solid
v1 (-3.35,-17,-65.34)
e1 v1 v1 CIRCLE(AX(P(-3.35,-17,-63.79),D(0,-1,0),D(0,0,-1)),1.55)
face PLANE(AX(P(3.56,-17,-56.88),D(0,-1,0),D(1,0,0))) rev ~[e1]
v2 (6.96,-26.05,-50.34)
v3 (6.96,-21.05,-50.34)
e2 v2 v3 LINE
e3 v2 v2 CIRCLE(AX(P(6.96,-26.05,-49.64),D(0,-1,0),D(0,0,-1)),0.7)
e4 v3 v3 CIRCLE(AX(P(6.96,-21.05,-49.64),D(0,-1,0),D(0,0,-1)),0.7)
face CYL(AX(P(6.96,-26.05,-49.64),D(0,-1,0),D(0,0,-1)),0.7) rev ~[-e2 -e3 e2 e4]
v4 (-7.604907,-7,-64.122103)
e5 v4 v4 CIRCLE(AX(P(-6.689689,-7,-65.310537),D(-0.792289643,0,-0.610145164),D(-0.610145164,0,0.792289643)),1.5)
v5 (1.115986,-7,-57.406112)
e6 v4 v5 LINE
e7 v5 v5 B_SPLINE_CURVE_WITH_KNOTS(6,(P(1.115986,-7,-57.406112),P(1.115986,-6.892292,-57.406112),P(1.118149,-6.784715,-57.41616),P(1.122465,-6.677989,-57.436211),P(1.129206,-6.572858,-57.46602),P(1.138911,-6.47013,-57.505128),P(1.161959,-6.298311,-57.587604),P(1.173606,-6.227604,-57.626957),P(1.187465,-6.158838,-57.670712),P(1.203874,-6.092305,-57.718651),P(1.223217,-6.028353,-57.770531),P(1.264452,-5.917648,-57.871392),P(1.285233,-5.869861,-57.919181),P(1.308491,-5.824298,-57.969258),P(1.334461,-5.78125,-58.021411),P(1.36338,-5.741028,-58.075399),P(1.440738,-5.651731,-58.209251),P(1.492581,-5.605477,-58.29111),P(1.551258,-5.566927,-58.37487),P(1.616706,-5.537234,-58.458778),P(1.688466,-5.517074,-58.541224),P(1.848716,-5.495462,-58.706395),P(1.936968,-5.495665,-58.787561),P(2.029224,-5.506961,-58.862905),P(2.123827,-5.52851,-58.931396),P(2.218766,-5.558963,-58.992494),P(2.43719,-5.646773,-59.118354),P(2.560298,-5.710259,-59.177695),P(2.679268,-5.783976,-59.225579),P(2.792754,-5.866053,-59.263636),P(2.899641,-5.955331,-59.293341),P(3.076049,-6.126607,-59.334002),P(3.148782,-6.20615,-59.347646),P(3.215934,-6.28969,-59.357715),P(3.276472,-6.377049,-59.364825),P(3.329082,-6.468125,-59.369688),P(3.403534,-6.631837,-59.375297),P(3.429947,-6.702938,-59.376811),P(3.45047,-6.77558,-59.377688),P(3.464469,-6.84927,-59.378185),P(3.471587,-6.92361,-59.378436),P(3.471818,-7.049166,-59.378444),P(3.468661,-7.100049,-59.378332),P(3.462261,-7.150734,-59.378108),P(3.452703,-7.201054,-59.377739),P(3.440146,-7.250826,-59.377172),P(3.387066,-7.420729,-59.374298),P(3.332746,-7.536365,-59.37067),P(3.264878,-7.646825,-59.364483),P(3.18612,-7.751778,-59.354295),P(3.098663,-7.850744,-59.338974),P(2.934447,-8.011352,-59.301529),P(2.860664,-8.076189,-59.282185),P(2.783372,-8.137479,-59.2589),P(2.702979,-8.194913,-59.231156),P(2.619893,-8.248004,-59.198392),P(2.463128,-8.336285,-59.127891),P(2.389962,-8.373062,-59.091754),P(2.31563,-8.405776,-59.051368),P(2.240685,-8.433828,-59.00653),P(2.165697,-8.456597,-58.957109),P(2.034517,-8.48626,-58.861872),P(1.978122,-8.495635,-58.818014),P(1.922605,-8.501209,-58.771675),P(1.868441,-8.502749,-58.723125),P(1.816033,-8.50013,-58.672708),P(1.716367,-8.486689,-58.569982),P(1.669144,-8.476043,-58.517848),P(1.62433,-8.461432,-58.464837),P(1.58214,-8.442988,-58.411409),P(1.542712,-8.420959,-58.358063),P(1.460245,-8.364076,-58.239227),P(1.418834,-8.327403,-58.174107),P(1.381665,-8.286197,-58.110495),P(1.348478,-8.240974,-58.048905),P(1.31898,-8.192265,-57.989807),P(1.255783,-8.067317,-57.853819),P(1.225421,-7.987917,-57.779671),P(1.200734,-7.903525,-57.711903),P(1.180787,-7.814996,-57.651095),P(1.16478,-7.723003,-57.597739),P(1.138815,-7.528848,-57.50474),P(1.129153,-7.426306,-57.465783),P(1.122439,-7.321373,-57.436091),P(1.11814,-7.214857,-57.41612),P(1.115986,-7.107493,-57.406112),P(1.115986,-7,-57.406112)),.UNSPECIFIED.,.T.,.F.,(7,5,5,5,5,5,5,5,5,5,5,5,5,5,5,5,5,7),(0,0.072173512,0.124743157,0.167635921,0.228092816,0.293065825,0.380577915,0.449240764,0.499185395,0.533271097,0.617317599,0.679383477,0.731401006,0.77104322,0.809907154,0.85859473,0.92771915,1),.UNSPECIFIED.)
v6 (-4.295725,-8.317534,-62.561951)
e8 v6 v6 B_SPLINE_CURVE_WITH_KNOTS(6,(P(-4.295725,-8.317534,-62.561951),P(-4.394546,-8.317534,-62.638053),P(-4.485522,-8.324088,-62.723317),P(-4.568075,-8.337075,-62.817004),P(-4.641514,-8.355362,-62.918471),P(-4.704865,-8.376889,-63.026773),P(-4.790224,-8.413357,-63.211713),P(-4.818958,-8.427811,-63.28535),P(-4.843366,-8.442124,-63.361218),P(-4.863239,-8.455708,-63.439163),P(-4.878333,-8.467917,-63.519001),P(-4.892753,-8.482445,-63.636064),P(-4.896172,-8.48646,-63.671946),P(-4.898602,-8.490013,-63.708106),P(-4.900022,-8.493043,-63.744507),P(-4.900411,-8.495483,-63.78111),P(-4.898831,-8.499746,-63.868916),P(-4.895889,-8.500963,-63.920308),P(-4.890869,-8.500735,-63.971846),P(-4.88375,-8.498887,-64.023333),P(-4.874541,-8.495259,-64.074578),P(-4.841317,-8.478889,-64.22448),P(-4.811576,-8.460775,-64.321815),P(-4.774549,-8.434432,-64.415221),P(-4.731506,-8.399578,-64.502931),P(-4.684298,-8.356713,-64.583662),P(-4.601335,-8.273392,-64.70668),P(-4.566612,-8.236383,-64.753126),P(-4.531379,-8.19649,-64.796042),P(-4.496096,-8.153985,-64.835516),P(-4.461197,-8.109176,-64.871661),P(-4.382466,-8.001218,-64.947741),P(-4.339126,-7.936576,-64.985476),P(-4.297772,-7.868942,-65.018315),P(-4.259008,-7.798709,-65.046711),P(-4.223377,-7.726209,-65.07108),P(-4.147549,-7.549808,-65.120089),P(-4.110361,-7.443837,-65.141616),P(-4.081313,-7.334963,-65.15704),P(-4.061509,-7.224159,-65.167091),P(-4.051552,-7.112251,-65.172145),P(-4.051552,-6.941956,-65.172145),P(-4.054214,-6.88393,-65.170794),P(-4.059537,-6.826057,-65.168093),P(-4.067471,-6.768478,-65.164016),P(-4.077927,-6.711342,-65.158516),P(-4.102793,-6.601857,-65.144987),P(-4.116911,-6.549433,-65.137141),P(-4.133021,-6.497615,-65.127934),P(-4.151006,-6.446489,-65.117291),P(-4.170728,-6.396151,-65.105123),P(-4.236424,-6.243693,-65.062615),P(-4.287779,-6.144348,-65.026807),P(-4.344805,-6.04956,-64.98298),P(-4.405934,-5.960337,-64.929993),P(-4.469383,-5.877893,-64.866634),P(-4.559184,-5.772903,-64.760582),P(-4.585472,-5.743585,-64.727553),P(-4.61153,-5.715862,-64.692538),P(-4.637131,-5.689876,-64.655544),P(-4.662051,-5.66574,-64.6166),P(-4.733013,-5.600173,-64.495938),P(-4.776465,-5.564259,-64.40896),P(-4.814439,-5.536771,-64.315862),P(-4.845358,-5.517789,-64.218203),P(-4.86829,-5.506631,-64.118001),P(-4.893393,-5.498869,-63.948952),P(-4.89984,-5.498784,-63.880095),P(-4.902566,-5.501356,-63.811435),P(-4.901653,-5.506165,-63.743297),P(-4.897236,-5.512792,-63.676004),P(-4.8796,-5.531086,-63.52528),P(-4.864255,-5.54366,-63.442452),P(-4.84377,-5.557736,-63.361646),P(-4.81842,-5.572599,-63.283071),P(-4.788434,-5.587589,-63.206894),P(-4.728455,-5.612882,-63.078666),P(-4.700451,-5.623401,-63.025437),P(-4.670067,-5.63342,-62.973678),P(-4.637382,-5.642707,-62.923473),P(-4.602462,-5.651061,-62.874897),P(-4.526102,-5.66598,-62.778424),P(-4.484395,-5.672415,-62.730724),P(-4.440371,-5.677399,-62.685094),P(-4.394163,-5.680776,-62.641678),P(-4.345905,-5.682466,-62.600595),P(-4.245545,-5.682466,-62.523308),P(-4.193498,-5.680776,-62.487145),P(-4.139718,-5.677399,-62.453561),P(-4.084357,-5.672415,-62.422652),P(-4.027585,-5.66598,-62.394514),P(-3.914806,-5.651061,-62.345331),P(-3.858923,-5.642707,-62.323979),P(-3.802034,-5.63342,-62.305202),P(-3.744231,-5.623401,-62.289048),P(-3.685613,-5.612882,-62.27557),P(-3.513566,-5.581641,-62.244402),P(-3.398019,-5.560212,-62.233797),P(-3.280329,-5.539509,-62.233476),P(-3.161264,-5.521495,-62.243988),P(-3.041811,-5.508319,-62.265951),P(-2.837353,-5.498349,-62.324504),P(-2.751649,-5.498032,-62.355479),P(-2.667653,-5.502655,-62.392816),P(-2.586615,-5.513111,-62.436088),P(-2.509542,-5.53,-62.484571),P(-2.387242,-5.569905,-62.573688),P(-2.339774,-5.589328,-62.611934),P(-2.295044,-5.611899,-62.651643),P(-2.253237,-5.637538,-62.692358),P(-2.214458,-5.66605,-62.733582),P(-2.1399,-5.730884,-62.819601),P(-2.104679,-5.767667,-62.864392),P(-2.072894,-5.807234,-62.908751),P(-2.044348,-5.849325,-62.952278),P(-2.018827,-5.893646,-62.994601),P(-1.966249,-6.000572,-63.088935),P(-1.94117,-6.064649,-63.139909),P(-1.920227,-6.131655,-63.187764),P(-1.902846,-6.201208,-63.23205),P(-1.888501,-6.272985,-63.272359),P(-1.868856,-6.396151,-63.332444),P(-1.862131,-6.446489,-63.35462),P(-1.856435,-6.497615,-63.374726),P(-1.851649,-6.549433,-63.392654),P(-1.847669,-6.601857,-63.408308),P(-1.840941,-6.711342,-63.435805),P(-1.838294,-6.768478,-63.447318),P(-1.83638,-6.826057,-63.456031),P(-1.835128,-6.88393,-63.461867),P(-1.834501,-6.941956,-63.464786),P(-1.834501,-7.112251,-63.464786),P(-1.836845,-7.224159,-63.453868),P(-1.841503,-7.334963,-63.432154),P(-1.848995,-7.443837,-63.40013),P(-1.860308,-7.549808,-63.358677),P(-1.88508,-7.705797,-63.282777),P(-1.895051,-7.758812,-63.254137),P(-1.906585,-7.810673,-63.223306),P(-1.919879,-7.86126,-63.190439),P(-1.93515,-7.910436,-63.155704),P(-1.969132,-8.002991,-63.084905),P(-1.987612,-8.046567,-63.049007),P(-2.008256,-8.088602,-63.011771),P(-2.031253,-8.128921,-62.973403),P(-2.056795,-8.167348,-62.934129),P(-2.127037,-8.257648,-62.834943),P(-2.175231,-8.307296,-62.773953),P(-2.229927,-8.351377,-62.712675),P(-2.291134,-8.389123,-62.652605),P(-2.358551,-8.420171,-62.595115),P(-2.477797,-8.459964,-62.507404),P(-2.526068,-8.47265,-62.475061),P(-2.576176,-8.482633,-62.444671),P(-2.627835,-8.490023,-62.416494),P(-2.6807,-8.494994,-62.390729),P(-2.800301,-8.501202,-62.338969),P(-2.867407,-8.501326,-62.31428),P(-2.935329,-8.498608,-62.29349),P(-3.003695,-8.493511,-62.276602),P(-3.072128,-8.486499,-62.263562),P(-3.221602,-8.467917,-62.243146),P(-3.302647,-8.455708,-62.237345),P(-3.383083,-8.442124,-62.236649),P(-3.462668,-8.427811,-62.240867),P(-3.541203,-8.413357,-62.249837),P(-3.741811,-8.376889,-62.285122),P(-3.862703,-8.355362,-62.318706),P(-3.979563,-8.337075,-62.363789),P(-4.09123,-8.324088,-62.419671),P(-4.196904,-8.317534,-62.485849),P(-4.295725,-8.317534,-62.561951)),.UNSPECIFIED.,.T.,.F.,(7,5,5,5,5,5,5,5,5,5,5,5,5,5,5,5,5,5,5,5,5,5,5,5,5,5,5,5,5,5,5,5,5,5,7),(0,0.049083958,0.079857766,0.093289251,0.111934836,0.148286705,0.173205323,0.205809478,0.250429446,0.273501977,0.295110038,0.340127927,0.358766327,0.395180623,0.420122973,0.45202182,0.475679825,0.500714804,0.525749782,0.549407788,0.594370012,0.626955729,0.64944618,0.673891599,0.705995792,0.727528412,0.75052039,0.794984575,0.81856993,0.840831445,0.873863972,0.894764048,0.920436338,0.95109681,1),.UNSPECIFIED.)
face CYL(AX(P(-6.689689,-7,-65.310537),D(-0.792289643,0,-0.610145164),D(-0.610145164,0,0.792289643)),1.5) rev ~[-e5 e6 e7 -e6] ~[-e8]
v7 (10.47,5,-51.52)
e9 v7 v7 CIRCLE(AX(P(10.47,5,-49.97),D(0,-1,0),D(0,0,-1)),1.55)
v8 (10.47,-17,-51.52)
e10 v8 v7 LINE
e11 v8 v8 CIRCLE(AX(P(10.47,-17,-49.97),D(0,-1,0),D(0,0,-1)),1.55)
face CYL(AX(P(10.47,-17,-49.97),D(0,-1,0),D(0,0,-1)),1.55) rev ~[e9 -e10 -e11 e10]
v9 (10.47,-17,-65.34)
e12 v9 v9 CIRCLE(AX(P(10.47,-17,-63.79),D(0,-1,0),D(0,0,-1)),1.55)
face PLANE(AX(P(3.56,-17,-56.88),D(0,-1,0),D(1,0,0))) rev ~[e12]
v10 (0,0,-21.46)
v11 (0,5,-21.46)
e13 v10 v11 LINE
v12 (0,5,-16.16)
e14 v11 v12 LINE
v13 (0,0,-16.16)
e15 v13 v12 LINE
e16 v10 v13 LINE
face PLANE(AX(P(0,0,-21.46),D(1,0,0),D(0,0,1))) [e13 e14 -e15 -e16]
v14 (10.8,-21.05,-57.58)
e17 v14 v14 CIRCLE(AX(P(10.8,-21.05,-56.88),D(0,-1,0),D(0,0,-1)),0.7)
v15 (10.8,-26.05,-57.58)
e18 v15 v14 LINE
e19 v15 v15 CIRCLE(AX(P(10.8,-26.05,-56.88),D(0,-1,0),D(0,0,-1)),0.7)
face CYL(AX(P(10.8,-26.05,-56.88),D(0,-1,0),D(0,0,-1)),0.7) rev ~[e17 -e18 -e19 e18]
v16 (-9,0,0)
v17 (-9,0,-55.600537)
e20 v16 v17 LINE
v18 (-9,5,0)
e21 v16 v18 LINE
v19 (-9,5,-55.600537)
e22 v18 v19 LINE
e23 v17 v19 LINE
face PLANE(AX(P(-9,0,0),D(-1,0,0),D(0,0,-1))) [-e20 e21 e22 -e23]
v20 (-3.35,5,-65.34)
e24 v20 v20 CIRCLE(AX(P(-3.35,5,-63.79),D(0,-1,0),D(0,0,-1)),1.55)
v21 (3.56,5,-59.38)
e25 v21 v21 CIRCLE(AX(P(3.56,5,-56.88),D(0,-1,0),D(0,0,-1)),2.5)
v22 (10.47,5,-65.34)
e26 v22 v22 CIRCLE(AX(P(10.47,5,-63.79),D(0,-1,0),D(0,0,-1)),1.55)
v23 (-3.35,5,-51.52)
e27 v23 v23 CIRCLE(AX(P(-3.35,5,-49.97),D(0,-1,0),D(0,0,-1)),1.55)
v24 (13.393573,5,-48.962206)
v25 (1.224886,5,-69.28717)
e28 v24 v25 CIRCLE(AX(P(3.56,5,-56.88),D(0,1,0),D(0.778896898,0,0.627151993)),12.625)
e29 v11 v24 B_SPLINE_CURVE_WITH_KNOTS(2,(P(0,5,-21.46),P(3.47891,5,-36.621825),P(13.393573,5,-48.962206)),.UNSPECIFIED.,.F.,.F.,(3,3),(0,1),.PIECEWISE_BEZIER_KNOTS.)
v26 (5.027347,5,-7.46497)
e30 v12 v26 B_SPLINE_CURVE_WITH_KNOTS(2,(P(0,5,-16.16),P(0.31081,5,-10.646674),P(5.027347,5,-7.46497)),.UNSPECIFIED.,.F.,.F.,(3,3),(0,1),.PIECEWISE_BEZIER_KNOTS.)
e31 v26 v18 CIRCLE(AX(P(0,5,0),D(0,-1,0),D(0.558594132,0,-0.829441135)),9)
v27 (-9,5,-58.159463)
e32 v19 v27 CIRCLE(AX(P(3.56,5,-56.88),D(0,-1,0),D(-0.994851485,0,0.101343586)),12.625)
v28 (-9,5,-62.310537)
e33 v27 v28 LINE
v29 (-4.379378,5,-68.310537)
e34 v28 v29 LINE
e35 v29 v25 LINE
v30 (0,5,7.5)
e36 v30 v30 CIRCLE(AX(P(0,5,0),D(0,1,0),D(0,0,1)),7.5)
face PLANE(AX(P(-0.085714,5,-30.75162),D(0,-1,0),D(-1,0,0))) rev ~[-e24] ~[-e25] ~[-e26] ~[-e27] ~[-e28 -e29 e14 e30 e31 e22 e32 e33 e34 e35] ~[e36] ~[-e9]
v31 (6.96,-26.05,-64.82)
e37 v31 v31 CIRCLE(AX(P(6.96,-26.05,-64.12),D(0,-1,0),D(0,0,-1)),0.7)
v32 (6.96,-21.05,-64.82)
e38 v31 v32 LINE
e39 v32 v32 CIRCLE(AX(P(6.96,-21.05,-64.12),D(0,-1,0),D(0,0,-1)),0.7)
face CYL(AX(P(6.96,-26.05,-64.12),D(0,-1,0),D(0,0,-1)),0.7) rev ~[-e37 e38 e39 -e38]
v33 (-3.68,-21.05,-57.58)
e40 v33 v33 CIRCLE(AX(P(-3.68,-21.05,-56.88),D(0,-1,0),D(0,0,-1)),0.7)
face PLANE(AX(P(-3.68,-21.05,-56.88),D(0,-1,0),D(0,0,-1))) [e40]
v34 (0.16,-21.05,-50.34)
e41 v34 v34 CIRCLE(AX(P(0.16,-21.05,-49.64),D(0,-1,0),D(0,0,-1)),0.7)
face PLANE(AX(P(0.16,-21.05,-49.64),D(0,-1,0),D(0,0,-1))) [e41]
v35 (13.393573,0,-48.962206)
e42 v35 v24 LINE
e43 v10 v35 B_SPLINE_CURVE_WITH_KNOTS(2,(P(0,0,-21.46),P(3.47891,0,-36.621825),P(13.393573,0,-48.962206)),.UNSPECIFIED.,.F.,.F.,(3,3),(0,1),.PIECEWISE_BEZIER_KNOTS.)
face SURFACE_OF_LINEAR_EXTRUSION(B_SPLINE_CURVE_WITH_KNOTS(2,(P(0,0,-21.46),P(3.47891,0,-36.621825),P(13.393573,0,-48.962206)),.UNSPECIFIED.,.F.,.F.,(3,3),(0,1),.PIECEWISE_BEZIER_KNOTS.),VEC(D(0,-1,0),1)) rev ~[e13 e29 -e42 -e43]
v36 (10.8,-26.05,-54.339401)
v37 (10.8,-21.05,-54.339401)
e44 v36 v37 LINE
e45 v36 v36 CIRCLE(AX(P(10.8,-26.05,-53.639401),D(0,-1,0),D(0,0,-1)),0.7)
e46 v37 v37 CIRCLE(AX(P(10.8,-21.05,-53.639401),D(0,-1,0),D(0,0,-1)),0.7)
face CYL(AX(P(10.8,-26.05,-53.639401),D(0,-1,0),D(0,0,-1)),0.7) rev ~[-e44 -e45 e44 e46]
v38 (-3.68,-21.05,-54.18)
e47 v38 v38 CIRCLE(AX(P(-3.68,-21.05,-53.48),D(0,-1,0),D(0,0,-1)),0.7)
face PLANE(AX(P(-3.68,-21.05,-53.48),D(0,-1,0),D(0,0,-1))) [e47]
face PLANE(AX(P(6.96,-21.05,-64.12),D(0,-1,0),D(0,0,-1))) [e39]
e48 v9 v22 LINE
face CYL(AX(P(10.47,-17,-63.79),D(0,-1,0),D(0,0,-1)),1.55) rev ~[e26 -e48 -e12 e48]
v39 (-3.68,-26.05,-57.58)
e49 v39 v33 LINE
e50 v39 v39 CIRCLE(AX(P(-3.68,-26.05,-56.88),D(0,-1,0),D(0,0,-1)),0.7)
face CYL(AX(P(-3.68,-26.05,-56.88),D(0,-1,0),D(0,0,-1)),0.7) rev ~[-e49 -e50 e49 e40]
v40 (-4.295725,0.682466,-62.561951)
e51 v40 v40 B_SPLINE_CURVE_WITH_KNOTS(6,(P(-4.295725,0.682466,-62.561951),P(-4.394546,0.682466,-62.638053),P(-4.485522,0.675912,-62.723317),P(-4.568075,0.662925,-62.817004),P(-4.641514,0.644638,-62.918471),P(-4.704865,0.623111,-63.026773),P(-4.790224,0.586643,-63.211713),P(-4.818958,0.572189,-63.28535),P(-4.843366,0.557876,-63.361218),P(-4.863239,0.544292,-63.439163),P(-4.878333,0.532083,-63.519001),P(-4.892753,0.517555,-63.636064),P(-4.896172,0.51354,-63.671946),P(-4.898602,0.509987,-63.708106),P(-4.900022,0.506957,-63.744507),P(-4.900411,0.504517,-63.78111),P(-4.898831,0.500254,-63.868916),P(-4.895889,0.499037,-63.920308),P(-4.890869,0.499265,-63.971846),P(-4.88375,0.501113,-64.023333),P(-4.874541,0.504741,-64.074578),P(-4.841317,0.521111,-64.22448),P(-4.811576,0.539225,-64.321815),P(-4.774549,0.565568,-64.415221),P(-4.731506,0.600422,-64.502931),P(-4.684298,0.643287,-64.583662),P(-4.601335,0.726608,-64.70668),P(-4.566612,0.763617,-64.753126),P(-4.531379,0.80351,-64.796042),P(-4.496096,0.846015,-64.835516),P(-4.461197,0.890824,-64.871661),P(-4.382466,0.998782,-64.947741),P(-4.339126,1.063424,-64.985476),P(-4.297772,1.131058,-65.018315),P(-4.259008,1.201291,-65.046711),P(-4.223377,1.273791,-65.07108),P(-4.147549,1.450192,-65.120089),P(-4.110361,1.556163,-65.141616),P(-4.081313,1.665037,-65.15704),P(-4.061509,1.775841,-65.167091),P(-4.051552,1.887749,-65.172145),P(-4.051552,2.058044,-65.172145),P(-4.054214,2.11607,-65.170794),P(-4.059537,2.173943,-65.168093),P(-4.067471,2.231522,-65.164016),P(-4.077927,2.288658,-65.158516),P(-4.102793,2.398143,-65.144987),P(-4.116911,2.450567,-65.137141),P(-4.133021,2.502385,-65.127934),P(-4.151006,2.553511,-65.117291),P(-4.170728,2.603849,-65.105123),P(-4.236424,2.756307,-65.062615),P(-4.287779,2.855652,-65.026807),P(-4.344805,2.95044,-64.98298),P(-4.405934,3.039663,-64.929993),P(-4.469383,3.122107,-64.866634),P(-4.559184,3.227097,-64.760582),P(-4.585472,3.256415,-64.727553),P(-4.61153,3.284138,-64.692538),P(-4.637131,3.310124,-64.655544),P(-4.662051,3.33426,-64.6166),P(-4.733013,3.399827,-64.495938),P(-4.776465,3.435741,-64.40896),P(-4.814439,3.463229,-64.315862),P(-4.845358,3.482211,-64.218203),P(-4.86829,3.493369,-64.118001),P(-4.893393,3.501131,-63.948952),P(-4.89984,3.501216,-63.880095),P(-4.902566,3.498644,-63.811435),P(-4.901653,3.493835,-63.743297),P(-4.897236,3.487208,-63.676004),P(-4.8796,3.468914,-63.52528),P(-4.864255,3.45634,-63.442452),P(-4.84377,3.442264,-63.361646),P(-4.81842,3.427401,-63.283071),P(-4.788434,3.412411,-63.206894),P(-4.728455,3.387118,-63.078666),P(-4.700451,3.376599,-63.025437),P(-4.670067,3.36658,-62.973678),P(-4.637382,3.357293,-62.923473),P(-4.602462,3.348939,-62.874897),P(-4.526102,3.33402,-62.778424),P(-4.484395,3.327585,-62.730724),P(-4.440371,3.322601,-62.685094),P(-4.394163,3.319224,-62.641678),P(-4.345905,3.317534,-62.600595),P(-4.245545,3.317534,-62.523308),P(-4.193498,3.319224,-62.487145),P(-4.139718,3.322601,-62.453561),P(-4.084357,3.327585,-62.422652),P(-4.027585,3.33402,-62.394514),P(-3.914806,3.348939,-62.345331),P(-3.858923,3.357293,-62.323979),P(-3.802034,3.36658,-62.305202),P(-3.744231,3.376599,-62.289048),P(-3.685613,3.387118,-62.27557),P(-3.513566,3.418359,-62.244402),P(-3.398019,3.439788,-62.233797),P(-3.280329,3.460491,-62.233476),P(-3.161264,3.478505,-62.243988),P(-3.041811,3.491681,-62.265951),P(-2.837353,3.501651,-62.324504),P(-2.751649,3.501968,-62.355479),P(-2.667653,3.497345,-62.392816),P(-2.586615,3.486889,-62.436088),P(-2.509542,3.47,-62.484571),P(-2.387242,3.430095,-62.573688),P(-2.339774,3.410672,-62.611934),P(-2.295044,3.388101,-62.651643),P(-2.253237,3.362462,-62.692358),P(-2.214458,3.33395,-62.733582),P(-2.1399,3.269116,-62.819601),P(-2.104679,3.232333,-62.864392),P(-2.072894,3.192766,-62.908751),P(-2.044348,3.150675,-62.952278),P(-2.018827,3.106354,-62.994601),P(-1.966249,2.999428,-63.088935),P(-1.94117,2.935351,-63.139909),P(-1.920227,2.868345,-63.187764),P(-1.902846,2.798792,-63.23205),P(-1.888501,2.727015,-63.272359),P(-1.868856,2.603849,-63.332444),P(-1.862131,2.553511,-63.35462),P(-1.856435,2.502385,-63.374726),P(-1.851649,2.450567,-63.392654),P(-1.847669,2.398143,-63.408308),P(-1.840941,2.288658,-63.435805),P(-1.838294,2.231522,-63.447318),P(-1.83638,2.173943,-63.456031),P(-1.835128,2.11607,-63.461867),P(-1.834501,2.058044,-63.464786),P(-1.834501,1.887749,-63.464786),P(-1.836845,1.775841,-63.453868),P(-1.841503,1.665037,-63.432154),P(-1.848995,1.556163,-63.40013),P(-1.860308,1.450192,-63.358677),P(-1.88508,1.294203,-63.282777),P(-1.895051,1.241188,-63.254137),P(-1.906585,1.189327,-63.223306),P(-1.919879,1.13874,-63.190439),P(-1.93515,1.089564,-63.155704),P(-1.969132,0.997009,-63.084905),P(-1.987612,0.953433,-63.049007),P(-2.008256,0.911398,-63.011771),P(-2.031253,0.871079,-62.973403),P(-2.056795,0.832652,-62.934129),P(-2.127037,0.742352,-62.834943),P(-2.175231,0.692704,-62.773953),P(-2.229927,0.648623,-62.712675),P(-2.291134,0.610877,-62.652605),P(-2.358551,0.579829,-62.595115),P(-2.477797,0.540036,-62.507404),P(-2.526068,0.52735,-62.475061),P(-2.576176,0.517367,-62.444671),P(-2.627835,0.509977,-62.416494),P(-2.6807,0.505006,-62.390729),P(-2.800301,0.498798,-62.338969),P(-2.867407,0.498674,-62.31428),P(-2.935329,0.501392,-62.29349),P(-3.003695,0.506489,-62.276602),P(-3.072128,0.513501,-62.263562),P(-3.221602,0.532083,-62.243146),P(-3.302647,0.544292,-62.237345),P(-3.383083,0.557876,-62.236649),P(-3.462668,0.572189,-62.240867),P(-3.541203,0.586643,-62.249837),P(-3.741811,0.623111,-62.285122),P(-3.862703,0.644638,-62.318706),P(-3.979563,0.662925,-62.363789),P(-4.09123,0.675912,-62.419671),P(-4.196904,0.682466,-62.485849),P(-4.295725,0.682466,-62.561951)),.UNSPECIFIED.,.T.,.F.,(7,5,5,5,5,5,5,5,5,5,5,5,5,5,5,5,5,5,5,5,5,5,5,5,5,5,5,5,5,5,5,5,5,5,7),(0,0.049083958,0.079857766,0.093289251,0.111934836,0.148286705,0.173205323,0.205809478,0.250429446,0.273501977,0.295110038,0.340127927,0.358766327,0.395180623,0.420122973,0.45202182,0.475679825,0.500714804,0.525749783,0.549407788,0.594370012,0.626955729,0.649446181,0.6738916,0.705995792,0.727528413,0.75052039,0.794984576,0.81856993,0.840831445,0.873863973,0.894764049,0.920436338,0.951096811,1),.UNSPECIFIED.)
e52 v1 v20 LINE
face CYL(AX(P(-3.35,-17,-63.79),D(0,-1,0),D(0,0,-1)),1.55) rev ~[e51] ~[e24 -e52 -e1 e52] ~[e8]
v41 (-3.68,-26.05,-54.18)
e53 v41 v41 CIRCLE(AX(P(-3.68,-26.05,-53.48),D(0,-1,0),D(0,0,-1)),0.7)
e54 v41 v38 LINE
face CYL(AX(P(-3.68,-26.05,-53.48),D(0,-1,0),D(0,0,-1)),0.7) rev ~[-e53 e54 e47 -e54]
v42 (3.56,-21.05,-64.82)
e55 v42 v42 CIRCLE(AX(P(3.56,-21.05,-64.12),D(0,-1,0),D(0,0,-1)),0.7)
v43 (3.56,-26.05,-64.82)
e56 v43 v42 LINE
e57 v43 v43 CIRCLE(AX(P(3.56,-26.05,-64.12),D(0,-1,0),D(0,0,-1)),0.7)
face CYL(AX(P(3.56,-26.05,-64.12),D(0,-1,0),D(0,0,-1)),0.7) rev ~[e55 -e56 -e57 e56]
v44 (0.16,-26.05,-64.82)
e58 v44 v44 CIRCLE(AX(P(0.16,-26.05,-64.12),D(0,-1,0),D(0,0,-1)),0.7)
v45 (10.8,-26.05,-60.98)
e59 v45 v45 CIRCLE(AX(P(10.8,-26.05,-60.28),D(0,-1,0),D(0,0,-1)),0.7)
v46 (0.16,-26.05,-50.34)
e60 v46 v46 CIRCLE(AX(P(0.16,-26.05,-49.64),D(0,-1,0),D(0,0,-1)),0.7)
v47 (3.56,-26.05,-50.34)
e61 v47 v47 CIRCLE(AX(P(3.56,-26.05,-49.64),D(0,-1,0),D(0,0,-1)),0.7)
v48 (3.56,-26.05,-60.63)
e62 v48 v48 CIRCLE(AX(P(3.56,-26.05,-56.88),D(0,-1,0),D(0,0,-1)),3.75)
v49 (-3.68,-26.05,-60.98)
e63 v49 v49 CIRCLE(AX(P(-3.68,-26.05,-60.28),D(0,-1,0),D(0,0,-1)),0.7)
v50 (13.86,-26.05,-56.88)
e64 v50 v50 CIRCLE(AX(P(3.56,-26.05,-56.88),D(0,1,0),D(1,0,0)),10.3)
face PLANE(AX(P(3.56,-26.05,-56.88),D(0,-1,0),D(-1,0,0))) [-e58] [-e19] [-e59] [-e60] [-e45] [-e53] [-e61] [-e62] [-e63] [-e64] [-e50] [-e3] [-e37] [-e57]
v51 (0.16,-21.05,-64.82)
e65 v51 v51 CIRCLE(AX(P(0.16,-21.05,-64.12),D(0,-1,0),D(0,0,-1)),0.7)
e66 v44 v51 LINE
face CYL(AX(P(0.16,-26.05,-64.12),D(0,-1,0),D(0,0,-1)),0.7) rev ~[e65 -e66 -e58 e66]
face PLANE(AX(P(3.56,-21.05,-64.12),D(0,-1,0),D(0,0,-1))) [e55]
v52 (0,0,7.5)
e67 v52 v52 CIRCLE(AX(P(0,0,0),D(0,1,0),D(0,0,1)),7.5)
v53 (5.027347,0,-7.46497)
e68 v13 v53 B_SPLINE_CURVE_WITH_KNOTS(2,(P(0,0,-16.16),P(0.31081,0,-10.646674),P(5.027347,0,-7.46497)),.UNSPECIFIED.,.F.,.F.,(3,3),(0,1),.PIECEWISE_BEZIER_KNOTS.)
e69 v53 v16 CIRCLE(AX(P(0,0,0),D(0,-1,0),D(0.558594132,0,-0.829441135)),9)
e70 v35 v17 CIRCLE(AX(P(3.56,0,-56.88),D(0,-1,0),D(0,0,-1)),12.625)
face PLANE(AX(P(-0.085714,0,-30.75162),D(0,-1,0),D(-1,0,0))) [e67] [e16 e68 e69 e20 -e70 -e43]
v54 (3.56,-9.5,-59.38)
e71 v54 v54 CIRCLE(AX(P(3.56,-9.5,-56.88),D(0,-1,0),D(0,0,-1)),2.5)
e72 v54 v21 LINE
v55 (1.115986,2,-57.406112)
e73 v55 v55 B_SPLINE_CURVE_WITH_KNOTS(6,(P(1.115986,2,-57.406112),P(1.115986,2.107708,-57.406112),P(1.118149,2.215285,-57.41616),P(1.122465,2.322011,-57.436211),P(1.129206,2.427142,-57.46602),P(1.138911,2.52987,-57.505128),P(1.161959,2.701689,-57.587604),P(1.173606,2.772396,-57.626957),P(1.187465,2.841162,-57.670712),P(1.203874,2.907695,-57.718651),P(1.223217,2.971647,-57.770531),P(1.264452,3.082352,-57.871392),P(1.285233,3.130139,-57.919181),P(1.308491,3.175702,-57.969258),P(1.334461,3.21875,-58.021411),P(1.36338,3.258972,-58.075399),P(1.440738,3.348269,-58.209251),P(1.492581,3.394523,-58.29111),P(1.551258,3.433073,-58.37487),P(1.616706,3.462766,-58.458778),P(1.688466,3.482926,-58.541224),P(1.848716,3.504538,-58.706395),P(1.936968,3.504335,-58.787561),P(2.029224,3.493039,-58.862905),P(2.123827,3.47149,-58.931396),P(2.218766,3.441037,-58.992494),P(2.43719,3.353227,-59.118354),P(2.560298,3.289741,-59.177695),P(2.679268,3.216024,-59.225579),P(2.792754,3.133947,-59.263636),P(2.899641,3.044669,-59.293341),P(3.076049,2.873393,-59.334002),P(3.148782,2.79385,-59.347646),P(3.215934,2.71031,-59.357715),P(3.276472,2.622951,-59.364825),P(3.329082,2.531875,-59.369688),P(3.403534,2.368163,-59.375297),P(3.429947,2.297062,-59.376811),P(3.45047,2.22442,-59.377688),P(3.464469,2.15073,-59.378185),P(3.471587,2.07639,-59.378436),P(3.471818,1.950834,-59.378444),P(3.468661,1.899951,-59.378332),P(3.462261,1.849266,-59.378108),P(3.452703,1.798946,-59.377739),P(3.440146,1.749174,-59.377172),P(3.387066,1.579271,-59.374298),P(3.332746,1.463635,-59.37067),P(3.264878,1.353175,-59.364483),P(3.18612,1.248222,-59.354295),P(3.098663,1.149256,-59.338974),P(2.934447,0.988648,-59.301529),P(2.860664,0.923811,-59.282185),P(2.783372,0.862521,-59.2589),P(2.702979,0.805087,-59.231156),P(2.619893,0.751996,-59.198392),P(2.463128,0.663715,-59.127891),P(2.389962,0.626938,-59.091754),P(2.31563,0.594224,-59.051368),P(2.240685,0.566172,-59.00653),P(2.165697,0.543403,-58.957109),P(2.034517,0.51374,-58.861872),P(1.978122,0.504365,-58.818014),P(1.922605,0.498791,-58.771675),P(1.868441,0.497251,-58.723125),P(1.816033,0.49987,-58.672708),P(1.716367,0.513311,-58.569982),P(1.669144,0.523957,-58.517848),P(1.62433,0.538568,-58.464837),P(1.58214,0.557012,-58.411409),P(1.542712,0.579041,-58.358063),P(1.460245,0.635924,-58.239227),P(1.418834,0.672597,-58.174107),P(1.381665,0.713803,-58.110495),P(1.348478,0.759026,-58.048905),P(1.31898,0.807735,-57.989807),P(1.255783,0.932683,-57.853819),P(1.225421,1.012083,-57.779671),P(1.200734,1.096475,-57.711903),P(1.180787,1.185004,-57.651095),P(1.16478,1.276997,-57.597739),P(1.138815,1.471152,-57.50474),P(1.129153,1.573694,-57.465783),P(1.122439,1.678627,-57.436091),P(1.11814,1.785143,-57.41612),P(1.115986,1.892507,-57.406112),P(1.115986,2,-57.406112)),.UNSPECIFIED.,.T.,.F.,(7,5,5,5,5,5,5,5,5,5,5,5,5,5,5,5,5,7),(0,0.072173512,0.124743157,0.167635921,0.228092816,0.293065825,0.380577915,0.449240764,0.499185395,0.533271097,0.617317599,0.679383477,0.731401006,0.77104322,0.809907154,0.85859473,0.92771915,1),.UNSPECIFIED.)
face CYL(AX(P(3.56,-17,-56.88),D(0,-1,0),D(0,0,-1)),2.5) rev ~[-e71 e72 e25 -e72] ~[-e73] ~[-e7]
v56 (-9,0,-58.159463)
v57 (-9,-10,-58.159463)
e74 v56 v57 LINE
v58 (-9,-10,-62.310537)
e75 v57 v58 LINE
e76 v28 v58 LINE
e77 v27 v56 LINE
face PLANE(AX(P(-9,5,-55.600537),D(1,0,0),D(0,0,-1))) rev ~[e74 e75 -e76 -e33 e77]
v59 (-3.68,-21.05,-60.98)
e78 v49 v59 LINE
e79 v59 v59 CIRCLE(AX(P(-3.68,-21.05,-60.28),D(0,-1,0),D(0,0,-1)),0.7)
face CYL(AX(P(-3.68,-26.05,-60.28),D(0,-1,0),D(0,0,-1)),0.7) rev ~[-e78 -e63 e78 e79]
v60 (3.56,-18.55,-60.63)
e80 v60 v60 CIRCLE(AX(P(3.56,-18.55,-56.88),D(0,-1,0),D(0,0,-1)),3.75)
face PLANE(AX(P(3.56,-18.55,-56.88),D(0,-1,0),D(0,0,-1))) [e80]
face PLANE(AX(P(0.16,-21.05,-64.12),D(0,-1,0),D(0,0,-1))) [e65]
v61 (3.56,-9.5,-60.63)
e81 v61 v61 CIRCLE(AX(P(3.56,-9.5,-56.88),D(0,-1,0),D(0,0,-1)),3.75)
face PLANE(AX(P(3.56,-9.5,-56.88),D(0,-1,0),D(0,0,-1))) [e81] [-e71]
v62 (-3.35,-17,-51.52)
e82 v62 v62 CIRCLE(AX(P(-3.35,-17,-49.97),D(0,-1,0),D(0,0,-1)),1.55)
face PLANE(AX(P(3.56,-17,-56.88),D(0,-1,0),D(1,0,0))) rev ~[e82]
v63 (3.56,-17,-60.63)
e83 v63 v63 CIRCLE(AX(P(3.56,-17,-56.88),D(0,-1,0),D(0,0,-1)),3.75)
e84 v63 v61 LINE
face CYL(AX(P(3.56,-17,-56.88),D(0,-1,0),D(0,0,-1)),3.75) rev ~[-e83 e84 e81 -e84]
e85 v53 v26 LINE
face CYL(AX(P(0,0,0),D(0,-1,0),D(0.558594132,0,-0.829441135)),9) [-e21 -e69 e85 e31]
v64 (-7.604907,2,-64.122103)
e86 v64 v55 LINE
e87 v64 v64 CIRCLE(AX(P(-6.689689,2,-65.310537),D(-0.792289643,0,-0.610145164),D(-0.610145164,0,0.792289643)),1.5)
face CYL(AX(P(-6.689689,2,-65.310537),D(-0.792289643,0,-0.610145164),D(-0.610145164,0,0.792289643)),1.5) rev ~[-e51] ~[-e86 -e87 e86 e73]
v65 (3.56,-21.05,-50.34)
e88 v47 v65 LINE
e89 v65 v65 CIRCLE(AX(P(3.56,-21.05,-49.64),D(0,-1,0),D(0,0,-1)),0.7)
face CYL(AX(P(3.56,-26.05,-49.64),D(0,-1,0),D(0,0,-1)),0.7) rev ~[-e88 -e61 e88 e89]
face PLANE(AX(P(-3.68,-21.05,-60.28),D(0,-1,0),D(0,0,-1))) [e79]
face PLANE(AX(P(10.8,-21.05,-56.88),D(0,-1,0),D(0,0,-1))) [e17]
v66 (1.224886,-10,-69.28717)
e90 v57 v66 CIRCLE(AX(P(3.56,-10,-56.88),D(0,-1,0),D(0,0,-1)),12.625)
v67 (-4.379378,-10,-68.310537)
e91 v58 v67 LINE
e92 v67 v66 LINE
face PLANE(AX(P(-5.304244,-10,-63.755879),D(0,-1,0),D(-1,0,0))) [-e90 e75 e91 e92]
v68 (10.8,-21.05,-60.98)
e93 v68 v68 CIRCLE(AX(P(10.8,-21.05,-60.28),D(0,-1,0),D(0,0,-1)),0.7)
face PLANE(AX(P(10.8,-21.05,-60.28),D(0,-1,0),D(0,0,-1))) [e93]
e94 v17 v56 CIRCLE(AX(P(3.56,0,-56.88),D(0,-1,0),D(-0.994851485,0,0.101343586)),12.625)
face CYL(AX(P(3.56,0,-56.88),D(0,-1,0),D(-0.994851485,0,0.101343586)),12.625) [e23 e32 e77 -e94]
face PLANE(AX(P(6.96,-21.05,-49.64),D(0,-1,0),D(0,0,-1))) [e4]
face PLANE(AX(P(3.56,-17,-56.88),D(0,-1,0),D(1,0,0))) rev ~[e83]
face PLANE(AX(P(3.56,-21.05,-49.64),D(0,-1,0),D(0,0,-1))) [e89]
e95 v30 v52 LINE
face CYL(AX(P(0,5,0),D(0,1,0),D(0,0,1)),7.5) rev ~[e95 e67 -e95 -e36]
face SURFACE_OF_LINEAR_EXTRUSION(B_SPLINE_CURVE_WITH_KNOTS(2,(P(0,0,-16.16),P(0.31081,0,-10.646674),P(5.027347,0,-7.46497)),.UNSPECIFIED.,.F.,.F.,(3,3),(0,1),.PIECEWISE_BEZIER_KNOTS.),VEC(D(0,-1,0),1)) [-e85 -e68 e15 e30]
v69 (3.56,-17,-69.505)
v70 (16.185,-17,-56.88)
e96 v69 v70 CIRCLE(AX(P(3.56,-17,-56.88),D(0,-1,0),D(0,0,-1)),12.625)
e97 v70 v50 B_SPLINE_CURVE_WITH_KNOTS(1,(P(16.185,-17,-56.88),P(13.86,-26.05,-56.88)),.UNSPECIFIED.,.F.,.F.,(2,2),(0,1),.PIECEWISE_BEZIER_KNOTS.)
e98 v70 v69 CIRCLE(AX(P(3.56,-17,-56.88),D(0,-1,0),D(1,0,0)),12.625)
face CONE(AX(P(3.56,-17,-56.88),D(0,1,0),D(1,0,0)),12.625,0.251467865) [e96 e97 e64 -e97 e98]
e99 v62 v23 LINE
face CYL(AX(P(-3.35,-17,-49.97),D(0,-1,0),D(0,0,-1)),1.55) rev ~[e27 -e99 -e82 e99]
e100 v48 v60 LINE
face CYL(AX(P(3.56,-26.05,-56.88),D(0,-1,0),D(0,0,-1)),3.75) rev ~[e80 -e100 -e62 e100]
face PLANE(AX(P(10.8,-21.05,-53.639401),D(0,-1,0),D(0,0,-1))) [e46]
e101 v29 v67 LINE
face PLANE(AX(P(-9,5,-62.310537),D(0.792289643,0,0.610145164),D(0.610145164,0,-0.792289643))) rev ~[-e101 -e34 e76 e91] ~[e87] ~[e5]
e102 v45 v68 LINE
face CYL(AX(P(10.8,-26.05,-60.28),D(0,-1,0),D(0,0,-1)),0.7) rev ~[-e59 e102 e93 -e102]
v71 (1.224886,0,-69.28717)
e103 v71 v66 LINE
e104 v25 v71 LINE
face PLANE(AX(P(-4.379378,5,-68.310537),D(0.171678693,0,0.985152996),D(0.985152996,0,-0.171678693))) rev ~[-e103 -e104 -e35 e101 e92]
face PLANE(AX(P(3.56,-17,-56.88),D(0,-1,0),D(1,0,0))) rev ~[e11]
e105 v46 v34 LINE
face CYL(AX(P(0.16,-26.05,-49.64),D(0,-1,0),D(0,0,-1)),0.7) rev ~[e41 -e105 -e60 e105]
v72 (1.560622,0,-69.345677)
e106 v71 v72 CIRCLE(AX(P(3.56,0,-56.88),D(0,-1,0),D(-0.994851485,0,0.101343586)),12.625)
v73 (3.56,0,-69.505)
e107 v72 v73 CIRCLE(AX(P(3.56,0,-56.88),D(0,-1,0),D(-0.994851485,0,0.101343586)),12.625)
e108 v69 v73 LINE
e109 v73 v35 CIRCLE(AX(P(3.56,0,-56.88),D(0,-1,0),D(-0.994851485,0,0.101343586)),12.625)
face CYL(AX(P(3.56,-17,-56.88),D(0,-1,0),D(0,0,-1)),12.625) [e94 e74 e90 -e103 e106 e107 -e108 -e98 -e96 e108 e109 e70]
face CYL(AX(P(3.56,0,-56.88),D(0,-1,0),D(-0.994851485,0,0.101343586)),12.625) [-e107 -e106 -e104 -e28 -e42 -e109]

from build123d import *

# Parameters (mm, degrees)
DODANIE_WYCI_GNI_CIE1_DEPTH = 5
DODANIE_WYCI_GNI_CIE2_START = 17
SZKIC3_R                    = 12.625
DODANIE_WYCI_GNI_CIE2_DEPTH = 17
SZKIC4_R                    = 2.5
SZKIC4_R_2                  = 1.55
WYTNIJ_WYCI_GNI_CIE1_DEPTH  = 25
SZKIC5_R                    = 3.75
WYTNIJ_WYCI_GNI_CIE2_DEPTH  = 7.5
DODANIE_WYCI_GNI_CIE3_DEPTH = 15
SZKIC7_R                    = 1.5
WYTNIJ_WYCI_GNI_CIE3_DEPTH  = 14
SZKIC8_R                    = 7.5
WYTNIJ_WYCI_GNI_CIE4_DEPTH  = 14
SZKIC14_R                   = 12.625
SZKIC16_R                   = 10.3
SZKIC18_R                   = 3.75
WYTNIJ_WYCI_GNI_CIE5_DEPTH  = 7.5
SZKIC19_R                   = 0.7
WYTNIJ_WYCI_GNI_CIE6_DEPTH  = 5


with BuildPart() as part:
    # Szkic1 → Dodanie-wyciągnięcie1 (new body)
    with BuildSketch(Plane(origin=(0, 0, 0), x_dir=(1, 0, 0), z_dir=(0, 1, 0))):
        with BuildLine():
            Line((-9, 0), (-9, 55.600537222))
            ThreePointArc((-9, 55.600537222), (7.148204378, 68.984355181), (13.393573335, 48.962206087))
            add(Edge.make_bspline(
                [(0, 21.46), (3.478909601, 36.621824573), (13.393573335, 48.962206087)],
                knots=[0, 0, 0, 1, 1, 1], degree=2))
            Line((0, 21.46), (0, 16.16))
            add(Edge.make_bspline(
                [(0, 16.16), (0.310809708, 10.646673881), (5.027347184, 7.464970214)],
                knots=[0, 0, 0, 1, 1, 1], degree=2))
            ThreePointArc((5.027347184, 7.464970214), (4.228112779, -7.945002349), (-9, 0))
        make_face()
    extrude(amount=DODANIE_WYCI_GNI_CIE1_DEPTH)

    # Szkic3 → Dodanie-wyciągnięcie2 (add)
    with BuildSketch(Plane.XZ.offset(DODANIE_WYCI_GNI_CIE2_START)):
        with Locations(Location((3.56, -56.88, 0), (0, 0, 270))):
            Circle(SZKIC3_R)
    extrude(amount=-DODANIE_WYCI_GNI_CIE2_DEPTH)

    # Szkic4 → Wytnij-wyciągnięcie1 (cut)
    with BuildSketch(Plane.XZ.offset(17)):
        with Locations(Location((3.56, -56.88, 0), (0, 0, 270))):
            Circle(SZKIC4_R)
        with Locations(Location((-3.35, -49.97, 0), (0, 0, 270))):
            Circle(SZKIC4_R_2)
        with Locations(Location((10.47, -49.97, 0), (0, 0, 270))):
            Circle(SZKIC4_R_2)
        with Locations(Location((-3.35, -63.79, 0), (0, 0, 270))):
            Circle(SZKIC4_R_2)
        with Locations(Location((10.47, -63.79, 0), (0, 0, 270))):
            Circle(SZKIC4_R_2)
    extrude(amount=-WYTNIJ_WYCI_GNI_CIE1_DEPTH, mode=Mode.SUBTRACT)

    # Szkic5 → Wytnij-wyciągnięcie2 (cut)
    with BuildSketch(Plane.XZ.offset(17)):
        with Locations(Location((3.56, -56.88, 0), (0, 0, 270))):
            Circle(SZKIC5_R)
    extrude(amount=-WYTNIJ_WYCI_GNI_CIE2_DEPTH, mode=Mode.SUBTRACT)

    # Szkic6 → Dodanie-wyciągnięcie3 (add)
    with BuildSketch(Plane(origin=(0, 5, 0), x_dir=(1, 0, 0), z_dir=(0, 1, 0))):
        with BuildLine():
            Line((-9, 55.600537222), (-9, 62.310537222))
            Line((-9, 62.310537222), (-4.379377966, 68.310537222))
            Line((-4.379377966, 68.310537222), (1.560622034, 69.345677388))
            add(Edge.make_bspline(
                [(1.560622034, 69.345677388), (-7.284103586, 65.531370102), (-9, 55.600537222)],
                knots=[0, 0, 0, 1, 1, 1], degree=2))
        make_face()
    extrude(amount=-DODANIE_WYCI_GNI_CIE3_DEPTH)

    # Szkic7 → Wytnij-wyciągnięcie3 (cut)
    with BuildSketch(Plane(origin=(-35.771148282, 0, -27.547492656), x_dir=(-0.6101451639012687, 0, 0.7922896433551899), z_dir=(-0.7922896433551899, 0, -0.6101451639012687))):
        with Locations((-47.663180862, 2)):
            Circle(SZKIC7_R)
        with Locations((-47.663180862, -7)):
            Circle(SZKIC7_R)
    extrude(amount=-WYTNIJ_WYCI_GNI_CIE3_DEPTH, mode=Mode.SUBTRACT)

    # Szkic8 → Wytnij-wyciągnięcie4 (cut)
    with BuildSketch(Plane(origin=(0, 5, 0), x_dir=(1, 0, 0), z_dir=(0, 1, 0))):
        with Locations(Location((0, 0, 0), (0, 0, 270))):
            Circle(SZKIC8_R)
    extrude(amount=-WYTNIJ_WYCI_GNI_CIE4_DEPTH, mode=Mode.SUBTRACT)

    # Szkic14 → Wyciągnięcie po profilach3 section 0
    with BuildSketch(Plane.XZ.offset(17)):
        with Locations((3.56, -56.88)):
            Circle(SZKIC14_R)
    # Szkic16 → Wyciągnięcie po profilach3 section 1
    with BuildSketch(Plane(origin=(0, -26.05, 0), x_dir=(-1, 0, 0), z_dir=(0, -1, 0))):
        with Locations((-3.56, 56.88)):
            Circle(SZKIC16_R)
    loft()

    # Szkic18 → Wytnij-wyciągnięcie5 (cut)
    with BuildSketch(Plane.XZ.offset(26.05)):
        with Locations(Location((3.56, -56.88, 0), (0, 0, 270))):
            Circle(SZKIC18_R)
    extrude(amount=-WYTNIJ_WYCI_GNI_CIE5_DEPTH, mode=Mode.SUBTRACT)

    # Szkic19 → Wytnij-wyciągnięcie6 (cut)
    with BuildSketch(Plane.XZ.offset(26.05)):
        with Locations(Location((-3.68, -53.48, 0), (0, 0, 270))):
            Circle(SZKIC19_R)
        with Locations(Location((-3.68, -56.88, 0), (0, 0, 270))):
            Circle(SZKIC19_R)
        with Locations(Location((-3.68, -60.28, 0), (0, 0, 270))):
            Circle(SZKIC19_R)
        with Locations(Location((0.16, -64.12, 0), (0, 0, 270))):
            Circle(SZKIC19_R)
        with Locations(Location((3.56, -64.12, 0), (0, 0, 270))):
            Circle(SZKIC19_R)
        with Locations(Location((6.96, -64.12, 0), (0, 0, 270))):
            Circle(SZKIC19_R)
        with Locations(Location((10.8, -60.28, 0), (0, 0, 270))):
            Circle(SZKIC19_R)
        with Locations(Location((10.8, -56.88, 0), (0, 0, 270))):
            Circle(SZKIC19_R)
        with Locations(Location((10.8, -53.639400789, 0), (0, 0, 270))):
            Circle(SZKIC19_R)
        with Locations(Location((6.96, -49.64, 0), (0, 0, 270))):
            Circle(SZKIC19_R)
        with Locations(Location((3.56, -49.64, 0), (0, 0, 270))):
            Circle(SZKIC19_R)
        with Locations(Location((0.16, -49.64, 0), (0, 0, 270))):
            Circle(SZKIC19_R)
    extrude(amount=-WYTNIJ_WYCI_GNI_CIE6_DEPTH, mode=Mode.SUBTRACT)


solid = part.part
